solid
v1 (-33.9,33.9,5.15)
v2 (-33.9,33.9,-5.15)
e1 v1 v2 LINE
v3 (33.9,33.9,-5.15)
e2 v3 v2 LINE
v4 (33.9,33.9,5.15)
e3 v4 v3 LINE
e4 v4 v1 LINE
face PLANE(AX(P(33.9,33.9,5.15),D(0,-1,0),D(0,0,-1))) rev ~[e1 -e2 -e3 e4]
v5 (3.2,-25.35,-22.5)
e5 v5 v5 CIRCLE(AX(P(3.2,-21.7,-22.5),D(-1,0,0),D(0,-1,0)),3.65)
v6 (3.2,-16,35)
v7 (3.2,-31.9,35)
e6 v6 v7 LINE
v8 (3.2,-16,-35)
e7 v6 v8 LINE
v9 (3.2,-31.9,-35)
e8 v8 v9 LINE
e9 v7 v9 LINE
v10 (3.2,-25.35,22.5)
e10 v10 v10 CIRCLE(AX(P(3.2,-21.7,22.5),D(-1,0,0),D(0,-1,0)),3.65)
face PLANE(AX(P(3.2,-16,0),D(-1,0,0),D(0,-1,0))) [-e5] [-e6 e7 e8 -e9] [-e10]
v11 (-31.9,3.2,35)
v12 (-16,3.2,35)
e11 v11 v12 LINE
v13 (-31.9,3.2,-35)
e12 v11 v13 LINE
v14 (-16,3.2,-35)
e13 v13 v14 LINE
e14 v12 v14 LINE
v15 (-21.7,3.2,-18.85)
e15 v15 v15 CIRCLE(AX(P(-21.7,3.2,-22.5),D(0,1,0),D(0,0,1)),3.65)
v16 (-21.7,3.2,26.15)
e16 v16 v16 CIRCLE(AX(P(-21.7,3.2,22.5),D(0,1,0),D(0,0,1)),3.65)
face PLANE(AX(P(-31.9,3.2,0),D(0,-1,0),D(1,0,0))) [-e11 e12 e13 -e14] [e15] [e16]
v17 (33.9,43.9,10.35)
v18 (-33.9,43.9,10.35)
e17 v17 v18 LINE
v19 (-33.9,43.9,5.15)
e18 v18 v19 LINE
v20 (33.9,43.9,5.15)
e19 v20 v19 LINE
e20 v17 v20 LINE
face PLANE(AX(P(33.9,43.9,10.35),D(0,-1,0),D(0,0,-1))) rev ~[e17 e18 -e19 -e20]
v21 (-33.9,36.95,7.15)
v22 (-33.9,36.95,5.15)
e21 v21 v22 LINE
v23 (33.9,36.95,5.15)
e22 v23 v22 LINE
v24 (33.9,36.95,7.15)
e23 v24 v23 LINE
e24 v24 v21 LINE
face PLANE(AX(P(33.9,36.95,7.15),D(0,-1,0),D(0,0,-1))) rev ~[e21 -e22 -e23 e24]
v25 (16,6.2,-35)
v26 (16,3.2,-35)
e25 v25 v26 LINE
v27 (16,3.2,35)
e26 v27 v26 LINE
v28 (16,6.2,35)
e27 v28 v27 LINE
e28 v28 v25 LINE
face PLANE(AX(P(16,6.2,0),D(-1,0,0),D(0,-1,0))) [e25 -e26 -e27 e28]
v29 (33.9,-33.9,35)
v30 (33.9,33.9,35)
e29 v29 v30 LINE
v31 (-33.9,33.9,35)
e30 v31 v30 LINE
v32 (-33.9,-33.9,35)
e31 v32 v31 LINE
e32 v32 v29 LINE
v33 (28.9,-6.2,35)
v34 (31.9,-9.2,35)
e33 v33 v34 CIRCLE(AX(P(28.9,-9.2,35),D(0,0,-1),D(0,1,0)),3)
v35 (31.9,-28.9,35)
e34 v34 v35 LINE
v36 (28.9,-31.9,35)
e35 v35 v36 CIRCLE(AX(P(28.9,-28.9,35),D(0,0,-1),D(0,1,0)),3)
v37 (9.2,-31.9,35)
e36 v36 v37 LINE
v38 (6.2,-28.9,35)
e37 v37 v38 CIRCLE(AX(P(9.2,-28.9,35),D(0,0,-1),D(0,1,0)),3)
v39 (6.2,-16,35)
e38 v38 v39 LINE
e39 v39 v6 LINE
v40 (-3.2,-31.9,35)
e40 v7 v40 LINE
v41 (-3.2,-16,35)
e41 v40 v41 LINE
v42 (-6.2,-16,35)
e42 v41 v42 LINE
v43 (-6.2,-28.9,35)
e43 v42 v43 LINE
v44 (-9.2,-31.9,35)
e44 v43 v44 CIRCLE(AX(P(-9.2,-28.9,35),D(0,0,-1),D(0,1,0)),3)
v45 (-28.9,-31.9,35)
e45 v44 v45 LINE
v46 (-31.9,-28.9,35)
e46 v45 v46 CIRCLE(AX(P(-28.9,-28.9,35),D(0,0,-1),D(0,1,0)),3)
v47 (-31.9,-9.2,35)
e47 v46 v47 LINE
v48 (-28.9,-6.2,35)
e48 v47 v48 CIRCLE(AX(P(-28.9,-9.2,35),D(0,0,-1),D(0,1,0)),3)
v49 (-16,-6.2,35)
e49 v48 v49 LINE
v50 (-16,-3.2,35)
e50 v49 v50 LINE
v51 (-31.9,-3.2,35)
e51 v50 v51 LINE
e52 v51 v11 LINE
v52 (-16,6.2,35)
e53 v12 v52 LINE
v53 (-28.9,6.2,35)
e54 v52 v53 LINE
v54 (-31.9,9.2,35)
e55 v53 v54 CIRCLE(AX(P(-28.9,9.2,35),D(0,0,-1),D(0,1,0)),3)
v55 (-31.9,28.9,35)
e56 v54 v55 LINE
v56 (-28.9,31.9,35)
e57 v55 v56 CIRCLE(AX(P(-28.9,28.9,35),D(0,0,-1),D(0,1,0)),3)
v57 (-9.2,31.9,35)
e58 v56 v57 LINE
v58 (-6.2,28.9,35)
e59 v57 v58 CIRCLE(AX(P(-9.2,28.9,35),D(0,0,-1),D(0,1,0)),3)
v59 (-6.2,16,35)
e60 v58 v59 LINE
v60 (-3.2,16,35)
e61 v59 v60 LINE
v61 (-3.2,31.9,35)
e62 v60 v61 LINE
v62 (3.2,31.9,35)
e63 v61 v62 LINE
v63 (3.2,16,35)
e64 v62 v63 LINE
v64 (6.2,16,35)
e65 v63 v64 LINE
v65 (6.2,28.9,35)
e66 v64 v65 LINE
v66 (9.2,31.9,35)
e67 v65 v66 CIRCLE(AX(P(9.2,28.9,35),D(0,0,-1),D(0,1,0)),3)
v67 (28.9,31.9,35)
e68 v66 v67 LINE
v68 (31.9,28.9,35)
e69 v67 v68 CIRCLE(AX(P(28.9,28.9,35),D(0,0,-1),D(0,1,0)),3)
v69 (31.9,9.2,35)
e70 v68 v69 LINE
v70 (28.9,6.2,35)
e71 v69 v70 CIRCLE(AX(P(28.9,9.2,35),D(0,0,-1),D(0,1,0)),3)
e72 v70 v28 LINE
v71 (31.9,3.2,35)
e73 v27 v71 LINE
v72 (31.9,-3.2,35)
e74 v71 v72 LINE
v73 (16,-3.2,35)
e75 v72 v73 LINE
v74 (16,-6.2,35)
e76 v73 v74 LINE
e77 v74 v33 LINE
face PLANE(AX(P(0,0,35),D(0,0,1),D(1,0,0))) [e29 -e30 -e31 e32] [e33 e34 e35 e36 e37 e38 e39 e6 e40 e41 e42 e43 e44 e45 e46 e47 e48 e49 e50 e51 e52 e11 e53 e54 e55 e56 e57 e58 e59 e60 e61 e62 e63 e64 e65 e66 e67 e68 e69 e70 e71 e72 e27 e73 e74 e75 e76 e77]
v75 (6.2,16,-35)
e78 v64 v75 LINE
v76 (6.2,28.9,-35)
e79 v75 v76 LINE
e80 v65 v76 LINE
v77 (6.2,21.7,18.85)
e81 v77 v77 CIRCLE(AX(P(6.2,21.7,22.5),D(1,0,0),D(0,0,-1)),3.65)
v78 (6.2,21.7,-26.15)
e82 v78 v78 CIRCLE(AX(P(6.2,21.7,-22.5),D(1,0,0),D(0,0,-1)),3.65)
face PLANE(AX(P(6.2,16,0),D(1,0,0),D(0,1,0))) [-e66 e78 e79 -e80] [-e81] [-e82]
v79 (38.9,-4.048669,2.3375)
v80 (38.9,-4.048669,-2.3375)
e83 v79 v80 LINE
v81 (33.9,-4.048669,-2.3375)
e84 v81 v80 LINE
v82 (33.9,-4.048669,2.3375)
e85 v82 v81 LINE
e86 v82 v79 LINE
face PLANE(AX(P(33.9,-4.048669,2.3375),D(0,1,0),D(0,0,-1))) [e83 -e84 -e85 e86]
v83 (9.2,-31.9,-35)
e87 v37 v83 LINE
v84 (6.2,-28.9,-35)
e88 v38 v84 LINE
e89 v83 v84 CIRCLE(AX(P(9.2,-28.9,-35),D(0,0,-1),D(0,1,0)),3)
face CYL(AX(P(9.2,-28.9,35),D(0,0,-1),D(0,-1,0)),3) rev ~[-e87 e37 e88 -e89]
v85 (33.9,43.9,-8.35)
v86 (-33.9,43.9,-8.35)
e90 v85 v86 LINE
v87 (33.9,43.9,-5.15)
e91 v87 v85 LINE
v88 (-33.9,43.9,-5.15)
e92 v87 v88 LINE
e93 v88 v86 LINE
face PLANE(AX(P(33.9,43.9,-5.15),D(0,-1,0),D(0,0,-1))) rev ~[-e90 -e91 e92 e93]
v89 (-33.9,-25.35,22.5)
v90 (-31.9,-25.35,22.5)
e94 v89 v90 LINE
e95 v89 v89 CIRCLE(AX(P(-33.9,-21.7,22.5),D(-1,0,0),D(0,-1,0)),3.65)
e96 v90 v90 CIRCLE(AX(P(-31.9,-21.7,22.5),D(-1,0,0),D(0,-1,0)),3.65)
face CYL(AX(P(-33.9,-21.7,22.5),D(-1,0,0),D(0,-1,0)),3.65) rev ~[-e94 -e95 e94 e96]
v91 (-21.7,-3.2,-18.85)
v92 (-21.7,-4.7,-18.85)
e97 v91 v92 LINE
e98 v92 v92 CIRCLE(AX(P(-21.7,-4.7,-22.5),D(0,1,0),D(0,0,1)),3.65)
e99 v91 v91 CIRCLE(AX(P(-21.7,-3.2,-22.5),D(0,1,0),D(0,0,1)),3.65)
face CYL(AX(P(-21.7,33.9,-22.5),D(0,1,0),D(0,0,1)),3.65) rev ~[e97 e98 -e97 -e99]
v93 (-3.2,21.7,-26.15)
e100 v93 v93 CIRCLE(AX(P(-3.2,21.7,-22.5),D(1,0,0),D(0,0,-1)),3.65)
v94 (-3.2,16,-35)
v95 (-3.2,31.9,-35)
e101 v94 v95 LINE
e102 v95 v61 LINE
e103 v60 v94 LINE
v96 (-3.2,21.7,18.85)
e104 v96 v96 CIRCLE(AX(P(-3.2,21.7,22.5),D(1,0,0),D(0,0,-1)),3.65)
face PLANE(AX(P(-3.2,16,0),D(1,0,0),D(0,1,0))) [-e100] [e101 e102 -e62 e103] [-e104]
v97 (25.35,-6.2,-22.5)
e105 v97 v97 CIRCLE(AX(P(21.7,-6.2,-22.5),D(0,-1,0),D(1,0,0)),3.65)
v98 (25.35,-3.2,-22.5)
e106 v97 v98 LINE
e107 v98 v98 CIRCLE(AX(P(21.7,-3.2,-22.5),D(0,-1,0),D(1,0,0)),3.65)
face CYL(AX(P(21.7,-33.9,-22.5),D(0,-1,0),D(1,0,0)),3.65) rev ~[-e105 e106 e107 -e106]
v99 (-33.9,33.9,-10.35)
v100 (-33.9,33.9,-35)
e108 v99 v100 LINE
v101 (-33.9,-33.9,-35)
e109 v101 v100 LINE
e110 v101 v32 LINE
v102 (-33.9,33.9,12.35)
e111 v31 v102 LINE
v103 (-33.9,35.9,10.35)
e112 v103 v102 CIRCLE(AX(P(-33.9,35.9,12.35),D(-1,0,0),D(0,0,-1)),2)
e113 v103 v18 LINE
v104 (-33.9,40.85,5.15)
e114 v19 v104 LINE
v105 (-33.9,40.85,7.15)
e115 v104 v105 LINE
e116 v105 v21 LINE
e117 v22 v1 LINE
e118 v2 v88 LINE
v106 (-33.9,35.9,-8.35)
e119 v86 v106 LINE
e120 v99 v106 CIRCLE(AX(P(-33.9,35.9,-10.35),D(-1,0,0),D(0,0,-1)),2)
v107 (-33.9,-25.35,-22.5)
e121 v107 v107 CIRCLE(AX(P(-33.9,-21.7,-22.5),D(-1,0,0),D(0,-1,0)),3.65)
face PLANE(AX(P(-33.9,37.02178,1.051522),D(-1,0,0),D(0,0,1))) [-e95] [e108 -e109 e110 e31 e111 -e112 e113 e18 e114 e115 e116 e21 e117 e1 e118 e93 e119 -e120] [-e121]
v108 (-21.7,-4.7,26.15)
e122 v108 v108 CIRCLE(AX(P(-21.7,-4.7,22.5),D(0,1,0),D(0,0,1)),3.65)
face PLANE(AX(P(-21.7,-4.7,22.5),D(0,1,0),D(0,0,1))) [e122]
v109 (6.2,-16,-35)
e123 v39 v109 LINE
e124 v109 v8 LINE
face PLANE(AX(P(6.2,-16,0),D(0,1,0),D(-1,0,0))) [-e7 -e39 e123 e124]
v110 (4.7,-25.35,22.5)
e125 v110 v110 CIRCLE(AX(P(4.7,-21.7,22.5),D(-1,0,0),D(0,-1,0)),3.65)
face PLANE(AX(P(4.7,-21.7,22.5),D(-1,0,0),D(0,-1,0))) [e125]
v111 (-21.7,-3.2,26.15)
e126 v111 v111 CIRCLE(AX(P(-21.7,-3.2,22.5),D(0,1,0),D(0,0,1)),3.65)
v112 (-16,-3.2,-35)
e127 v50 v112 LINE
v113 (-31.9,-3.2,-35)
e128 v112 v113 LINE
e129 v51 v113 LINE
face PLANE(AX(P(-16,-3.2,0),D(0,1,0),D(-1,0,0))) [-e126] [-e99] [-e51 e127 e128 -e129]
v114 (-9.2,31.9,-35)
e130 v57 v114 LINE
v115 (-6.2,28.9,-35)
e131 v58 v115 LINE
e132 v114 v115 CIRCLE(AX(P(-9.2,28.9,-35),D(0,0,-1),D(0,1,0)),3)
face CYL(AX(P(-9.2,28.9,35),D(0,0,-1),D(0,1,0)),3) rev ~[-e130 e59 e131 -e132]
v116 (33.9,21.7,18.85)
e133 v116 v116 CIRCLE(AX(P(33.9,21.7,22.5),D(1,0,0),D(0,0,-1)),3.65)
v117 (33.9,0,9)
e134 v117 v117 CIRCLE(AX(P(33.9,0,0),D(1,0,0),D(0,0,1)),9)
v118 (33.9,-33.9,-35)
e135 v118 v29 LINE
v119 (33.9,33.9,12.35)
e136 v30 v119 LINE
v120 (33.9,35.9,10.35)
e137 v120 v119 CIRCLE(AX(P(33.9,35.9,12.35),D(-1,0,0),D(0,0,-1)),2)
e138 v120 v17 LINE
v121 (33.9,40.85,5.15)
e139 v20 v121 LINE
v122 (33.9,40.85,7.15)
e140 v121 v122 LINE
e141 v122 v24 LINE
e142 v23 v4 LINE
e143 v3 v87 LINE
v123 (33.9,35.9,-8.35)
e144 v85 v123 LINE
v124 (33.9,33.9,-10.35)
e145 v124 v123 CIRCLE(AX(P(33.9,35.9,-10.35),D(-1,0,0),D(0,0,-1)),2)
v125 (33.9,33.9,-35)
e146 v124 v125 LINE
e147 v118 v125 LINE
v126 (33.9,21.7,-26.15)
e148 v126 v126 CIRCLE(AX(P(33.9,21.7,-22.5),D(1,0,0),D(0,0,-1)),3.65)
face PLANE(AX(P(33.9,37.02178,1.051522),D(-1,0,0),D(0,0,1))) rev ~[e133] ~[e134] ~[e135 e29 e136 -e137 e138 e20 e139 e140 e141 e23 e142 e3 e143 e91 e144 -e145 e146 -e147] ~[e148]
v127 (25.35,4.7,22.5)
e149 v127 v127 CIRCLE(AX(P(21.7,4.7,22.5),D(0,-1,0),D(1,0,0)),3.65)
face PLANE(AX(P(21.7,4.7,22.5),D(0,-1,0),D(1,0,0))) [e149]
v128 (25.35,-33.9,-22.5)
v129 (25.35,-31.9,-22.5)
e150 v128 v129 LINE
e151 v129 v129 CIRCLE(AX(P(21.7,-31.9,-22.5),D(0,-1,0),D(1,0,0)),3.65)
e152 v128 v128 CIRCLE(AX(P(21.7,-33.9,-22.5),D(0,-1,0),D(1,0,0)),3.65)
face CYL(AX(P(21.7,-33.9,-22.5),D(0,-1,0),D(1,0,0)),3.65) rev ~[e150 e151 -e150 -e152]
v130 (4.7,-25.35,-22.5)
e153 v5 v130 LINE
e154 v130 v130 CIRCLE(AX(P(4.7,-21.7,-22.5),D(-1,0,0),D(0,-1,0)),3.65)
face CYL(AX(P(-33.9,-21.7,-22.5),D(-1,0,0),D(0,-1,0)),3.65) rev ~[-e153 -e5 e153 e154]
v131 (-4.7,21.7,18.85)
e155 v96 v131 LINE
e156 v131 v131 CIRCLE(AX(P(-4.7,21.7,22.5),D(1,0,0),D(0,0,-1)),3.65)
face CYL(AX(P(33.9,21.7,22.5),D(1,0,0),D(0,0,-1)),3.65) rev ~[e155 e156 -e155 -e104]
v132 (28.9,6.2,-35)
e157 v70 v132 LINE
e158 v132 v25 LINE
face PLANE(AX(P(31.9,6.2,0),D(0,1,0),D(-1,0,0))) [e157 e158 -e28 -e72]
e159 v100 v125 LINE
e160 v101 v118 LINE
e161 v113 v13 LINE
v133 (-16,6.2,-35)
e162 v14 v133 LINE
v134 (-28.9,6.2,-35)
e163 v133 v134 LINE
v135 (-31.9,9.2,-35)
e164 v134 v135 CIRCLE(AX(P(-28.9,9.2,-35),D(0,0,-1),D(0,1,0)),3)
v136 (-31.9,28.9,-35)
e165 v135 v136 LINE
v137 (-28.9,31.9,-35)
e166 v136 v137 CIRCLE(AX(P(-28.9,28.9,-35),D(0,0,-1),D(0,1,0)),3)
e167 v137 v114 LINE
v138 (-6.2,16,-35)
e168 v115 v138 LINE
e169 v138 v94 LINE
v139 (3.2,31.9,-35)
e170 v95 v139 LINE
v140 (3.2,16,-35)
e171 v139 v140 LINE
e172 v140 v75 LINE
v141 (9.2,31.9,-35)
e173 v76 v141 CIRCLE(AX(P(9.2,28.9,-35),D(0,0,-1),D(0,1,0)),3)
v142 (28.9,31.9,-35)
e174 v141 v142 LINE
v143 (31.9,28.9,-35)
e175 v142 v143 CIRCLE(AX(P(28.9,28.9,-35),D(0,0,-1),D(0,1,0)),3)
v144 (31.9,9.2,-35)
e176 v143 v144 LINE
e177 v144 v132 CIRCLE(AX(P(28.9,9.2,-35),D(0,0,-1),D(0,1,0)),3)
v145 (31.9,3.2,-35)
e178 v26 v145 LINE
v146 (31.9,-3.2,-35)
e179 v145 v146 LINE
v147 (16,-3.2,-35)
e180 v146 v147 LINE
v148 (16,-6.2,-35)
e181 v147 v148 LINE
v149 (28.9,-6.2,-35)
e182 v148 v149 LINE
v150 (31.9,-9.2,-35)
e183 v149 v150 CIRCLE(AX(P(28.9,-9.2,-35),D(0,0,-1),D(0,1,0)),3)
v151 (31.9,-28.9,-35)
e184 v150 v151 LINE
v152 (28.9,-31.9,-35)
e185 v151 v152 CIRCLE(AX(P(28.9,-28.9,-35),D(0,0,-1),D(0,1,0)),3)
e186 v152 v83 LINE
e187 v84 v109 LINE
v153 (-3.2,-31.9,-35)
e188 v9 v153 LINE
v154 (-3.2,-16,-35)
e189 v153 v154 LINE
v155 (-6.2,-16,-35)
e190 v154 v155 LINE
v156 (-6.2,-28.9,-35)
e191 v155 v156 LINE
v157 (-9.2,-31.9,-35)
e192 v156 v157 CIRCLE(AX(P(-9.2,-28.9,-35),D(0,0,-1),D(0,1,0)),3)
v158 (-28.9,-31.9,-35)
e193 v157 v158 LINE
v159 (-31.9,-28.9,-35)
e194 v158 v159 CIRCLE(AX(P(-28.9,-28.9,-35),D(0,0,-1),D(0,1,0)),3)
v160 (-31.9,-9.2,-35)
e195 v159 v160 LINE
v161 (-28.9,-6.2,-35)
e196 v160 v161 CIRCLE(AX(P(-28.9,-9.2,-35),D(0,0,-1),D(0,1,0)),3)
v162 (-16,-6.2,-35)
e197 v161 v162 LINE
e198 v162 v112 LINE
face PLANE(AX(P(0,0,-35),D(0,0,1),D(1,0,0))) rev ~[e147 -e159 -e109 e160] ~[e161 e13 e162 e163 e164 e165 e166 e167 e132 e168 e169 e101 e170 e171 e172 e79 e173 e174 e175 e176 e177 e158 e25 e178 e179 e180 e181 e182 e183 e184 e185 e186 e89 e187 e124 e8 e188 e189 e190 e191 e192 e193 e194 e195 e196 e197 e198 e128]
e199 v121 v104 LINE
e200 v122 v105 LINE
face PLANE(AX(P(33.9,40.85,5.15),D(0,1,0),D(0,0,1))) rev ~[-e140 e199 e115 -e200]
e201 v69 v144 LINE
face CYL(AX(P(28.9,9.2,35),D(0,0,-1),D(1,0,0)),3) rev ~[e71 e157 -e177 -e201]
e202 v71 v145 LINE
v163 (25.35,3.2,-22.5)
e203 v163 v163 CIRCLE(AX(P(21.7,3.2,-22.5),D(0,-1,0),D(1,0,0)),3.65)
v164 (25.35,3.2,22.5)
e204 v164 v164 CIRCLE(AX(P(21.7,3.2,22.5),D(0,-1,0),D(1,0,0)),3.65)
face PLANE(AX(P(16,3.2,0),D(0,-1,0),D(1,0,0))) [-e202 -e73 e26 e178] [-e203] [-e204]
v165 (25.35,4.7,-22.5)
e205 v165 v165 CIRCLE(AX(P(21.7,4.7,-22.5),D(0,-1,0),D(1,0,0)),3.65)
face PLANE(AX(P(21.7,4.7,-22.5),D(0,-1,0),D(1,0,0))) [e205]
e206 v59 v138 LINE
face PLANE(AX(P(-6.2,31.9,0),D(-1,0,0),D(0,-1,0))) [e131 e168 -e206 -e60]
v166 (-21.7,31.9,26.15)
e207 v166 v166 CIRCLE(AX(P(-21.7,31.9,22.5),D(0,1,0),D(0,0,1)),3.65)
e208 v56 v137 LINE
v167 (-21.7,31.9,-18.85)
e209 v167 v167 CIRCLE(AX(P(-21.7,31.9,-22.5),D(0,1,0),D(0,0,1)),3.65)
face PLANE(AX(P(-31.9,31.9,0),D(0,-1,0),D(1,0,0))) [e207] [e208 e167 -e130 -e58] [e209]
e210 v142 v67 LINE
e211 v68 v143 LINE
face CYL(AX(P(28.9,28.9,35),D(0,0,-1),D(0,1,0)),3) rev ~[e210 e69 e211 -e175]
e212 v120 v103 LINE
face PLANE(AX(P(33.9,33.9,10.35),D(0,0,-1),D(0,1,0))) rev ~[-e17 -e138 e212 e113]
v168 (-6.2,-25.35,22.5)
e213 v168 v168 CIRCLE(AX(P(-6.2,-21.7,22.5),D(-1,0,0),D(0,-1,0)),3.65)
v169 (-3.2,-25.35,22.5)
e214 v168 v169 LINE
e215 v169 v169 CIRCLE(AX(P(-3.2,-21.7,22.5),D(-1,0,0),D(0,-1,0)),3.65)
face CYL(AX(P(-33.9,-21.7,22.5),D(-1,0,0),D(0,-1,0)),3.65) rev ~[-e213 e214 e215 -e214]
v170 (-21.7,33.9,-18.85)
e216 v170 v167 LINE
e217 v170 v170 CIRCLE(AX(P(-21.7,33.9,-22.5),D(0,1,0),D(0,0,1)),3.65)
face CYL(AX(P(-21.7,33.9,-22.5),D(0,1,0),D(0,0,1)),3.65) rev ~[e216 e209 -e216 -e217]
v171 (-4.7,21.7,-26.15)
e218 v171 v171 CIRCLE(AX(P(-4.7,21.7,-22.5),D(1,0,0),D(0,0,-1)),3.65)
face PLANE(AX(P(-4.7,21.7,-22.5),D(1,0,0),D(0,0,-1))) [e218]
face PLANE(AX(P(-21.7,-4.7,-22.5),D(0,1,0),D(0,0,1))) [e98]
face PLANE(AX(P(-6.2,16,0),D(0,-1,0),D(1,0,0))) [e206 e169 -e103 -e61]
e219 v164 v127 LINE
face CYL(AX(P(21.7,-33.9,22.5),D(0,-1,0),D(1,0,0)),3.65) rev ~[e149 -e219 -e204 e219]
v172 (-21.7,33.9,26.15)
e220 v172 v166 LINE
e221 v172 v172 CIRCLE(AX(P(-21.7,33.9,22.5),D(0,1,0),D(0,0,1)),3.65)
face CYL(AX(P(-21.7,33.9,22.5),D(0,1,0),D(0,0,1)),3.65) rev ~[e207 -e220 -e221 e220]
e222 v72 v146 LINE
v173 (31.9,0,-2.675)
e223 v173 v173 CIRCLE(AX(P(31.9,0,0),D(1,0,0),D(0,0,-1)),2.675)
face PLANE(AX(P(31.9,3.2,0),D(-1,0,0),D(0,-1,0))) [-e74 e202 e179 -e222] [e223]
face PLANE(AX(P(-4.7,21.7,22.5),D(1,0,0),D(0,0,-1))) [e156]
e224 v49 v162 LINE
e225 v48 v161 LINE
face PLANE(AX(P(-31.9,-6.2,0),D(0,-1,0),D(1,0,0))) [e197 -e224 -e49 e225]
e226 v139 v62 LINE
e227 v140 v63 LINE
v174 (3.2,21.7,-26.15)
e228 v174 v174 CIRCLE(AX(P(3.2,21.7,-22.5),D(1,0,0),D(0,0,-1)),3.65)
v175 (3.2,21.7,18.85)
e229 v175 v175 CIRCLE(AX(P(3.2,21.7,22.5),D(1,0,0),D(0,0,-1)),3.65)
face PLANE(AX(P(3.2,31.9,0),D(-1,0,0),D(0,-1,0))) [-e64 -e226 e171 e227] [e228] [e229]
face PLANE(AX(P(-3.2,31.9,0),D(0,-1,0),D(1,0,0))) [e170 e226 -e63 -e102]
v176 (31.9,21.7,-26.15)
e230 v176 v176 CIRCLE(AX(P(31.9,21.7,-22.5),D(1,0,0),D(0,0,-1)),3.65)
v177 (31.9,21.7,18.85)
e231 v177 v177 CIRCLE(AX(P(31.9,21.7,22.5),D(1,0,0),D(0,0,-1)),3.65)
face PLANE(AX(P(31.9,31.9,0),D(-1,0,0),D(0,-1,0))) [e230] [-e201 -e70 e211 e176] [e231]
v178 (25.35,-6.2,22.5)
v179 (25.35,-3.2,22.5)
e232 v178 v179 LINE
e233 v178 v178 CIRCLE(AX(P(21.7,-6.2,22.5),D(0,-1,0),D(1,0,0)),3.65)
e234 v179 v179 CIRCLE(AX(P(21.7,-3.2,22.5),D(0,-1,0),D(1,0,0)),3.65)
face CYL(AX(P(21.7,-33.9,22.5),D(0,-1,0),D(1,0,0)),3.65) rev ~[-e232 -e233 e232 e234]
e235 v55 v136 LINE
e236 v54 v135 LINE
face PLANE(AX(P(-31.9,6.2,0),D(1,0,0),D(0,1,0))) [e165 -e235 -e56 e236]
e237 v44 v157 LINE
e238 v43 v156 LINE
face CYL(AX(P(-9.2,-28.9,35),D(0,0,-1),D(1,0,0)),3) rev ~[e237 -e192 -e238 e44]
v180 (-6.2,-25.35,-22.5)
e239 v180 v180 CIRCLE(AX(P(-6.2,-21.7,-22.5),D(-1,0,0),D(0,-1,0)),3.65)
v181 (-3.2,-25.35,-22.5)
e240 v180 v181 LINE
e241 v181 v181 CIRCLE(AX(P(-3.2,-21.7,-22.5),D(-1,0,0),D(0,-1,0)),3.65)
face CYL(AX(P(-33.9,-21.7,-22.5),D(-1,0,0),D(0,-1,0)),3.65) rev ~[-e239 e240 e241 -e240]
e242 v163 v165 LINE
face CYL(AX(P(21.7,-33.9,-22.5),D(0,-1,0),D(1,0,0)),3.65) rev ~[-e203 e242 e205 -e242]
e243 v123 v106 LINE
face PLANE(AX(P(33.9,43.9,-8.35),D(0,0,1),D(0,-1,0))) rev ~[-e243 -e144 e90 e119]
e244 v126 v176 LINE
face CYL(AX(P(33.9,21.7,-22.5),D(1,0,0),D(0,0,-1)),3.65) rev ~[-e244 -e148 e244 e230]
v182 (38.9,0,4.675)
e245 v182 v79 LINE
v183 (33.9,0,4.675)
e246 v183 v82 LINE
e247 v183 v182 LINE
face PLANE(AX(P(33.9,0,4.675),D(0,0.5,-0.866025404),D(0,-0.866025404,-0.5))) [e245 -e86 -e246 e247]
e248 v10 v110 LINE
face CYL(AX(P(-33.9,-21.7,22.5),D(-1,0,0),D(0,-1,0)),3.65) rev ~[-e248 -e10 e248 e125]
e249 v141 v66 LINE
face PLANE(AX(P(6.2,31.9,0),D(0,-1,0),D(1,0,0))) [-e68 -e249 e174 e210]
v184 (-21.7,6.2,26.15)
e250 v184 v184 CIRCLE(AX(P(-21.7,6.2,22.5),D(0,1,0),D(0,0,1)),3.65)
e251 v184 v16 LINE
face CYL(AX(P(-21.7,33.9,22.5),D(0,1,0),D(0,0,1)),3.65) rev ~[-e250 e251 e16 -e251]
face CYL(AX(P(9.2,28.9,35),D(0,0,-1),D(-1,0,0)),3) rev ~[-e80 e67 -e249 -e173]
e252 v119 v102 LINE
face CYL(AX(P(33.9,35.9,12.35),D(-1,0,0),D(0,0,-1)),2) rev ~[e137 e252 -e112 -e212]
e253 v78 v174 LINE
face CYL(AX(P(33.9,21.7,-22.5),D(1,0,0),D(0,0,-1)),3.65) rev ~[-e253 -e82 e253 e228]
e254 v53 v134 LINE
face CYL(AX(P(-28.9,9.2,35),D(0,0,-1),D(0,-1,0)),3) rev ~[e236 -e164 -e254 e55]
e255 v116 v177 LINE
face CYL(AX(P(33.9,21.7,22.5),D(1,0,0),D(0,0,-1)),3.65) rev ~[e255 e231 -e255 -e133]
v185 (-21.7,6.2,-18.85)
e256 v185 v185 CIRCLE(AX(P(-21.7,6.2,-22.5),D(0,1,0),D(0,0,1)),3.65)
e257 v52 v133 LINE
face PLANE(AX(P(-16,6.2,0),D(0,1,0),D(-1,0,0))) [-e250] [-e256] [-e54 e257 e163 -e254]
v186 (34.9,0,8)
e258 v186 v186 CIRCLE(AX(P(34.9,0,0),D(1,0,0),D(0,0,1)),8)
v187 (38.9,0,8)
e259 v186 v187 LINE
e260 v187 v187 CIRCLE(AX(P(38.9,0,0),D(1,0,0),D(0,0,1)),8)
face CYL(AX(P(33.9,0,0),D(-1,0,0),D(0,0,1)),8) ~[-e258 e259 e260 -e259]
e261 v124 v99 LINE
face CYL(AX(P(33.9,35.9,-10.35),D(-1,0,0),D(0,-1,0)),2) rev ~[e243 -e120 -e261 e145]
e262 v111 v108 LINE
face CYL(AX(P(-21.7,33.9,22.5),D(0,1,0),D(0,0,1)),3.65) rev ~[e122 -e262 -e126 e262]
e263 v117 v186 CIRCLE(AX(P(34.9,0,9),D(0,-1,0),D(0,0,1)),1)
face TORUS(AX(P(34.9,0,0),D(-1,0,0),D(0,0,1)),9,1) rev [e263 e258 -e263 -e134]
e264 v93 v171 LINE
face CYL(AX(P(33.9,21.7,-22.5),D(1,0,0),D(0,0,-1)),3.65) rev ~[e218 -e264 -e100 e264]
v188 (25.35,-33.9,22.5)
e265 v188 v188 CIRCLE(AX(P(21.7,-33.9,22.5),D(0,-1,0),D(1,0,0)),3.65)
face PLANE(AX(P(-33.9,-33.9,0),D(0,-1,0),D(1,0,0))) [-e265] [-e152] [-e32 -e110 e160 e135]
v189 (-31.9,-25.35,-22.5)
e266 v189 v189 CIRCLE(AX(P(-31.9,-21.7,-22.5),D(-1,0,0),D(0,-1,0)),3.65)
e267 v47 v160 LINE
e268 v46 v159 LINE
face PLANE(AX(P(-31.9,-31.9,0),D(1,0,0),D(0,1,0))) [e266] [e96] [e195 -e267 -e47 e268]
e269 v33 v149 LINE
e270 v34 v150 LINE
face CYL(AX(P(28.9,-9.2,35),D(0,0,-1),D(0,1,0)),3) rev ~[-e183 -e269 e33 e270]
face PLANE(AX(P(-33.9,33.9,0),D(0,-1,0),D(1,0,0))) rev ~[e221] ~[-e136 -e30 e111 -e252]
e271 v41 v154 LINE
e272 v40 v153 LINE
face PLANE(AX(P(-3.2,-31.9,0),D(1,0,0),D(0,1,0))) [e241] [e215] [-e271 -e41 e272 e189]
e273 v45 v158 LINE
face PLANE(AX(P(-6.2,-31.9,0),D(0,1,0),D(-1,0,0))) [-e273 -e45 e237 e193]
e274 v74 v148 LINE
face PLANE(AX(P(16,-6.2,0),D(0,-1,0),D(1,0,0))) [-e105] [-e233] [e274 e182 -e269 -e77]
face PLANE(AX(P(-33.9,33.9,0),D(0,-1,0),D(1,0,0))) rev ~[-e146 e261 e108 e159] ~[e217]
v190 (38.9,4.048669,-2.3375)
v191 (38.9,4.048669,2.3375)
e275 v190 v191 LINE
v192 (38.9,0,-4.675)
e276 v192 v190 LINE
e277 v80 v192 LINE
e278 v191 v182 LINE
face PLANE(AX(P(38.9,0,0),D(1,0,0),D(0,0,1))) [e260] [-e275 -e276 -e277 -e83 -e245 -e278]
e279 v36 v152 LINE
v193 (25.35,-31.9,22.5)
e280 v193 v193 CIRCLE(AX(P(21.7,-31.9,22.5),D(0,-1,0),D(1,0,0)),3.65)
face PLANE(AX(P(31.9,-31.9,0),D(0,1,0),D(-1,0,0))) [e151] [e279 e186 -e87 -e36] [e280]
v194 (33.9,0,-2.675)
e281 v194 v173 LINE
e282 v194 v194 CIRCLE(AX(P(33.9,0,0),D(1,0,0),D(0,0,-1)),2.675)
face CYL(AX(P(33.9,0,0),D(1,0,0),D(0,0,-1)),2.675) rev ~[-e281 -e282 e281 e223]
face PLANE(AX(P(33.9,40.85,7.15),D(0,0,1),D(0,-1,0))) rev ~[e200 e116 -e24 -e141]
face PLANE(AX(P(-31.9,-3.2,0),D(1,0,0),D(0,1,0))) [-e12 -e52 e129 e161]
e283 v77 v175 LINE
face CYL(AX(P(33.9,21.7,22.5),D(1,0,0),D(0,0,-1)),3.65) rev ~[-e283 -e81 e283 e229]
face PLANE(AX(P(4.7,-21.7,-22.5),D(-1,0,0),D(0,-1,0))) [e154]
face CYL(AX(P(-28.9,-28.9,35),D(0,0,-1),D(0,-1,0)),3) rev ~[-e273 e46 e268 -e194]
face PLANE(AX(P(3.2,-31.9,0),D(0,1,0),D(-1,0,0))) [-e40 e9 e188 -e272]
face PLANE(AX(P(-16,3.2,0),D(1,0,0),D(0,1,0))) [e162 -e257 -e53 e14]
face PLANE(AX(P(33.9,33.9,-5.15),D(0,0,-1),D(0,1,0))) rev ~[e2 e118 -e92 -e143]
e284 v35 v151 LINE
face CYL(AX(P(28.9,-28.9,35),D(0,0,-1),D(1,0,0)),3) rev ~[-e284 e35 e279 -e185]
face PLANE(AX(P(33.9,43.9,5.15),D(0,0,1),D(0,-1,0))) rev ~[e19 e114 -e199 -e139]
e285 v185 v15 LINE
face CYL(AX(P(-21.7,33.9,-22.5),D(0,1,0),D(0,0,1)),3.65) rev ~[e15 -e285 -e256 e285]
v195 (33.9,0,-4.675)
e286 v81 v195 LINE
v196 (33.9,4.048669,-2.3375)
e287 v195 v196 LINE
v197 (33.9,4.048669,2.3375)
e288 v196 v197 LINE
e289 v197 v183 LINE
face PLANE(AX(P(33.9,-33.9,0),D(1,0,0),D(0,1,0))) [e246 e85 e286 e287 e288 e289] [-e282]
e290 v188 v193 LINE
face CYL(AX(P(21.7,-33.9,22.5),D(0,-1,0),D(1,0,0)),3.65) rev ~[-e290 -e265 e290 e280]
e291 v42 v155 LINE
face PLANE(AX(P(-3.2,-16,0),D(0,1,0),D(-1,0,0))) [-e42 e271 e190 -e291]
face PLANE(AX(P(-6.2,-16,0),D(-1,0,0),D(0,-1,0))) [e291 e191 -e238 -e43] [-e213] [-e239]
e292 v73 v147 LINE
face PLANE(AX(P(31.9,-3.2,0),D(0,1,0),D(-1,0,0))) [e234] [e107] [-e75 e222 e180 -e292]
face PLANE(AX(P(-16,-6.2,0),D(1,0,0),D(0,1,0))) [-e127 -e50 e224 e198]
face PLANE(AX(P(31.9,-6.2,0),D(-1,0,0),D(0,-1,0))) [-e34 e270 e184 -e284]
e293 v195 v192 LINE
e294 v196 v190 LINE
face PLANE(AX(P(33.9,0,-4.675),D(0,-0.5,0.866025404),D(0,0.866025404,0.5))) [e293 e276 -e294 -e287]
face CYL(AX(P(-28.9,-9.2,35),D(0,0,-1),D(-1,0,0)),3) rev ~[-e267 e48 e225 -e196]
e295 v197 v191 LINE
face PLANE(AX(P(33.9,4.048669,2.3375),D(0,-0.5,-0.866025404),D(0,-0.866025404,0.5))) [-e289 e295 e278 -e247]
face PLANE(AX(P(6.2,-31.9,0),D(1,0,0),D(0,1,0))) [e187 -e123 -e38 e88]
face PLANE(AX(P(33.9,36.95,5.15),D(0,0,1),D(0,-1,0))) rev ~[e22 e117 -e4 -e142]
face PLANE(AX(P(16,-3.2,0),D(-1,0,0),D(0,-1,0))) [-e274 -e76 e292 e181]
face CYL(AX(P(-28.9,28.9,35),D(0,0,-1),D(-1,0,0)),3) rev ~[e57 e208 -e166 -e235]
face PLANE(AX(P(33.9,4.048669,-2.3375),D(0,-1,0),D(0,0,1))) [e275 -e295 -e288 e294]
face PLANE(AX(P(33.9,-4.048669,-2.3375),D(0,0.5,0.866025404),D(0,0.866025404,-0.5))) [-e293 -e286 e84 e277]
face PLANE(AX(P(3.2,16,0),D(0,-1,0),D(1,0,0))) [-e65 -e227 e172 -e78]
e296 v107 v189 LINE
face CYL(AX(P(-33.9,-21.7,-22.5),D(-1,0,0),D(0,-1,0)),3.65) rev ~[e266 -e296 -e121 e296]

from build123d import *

# Parameters (mm, degrees)
SKETCH2_W           = 67.8
SKETCH2_H           = 67.8
BOSS_EXTRUDE1_DEPTH = 35
FILLET1_R           = 3
SKETCH3_R           = 3.65
CUT_EXTRUDE1_DEPTH  = 38.6
SKETCH4_R           = 3.65
CUT_EXTRUDE2_DEPTH  = 38.6
SKETCH5_R           = 3.65
CUT_EXTRUDE3_DEPTH  = 38.6
SKETCH6_R           = 3.65
CUT_EXTRUDE4_DEPTH  = 38.6
SKETCH7_R           = 8
BOSS_EXTRUDE2_DEPTH = 5
SKETCH8_R           = 2.675
CUT_EXTRUDE5_DEPTH  = 17.9
FILLET2_R           = 1
BOSS_EXTRUDE3_DEPTH = 67.8
FILLET3_R           = 2


with BuildPart() as part:
    # Sketch2 → Boss-Extrude1 (new, symmetric)
    with BuildSketch(Plane.XY):
        Rectangle(SKETCH2_W, SKETCH2_H)
        Polygon((3.2, 16), (6.2, 16), (6.2, 31.9), (31.9, 31.9), (31.9, 6.2), (16, 6.2), (16, 3.2), (31.9, 3.2), (31.9, -3.2), (16, -3.2), (16, -6.2), (31.9, -6.2), (31.9, -31.9), (6.2, -31.9), (6.2, -16), (3.2, -16), (3.2, -31.9), (-3.2, -31.9), (-3.2, -16), (-6.2, -16), (-6.2, -31.9), (-31.9, -31.9), (-31.9, -6.2), (-16, -6.2), (-16, -3.2), (-31.9, -3.2), (-31.9, 3.2), (-16, 3.2), (-16, 6.2), (-31.9, 6.2), (-31.9, 31.9), (-6.2, 31.9), (-6.2, 16), (-3.2, 16), (-3.2, 31.9), (3.2, 31.9), align=None, mode=Mode.SUBTRACT)
    extrude(amount=BOSS_EXTRUDE1_DEPTH, both=True)

    # Fillet1
    fillet1_edges = [part.edges().sort_by_distance(p)[0] for p in [
        (-31.9, -6.2, 0),
        (-31.9, -31.9, 0),
        (-6.2, -31.9, 0),
        (6.2, -31.9, 0),
        (31.9, -31.9, 0),
        (31.9, -6.2, 0),
        (31.9, 6.2, 0),
        (31.9, 31.9, 0),
        (6.2, 31.9, 0),
        (-6.2, 31.9, 0),
        (-31.9, 31.9, 0),
        (-31.9, 6.2, 0),
    ]]
    fillet(fillet1_edges, radius=FILLET1_R)

    # Sketch3 → Cut-Extrude1 (cut)
    with BuildSketch(Plane(origin=(0, 33.9, 0), x_dir=(1, 0, 0), z_dir=(0, 1, 0))):
        with Locations(Location((-21.7, -22.5, 0), (0, 0, 270))):
            Circle(SKETCH3_R)
        with Locations(Location((-21.7, 22.5, 0), (0, 0, 270))):
            Circle(SKETCH3_R)
    extrude(amount=-CUT_EXTRUDE1_DEPTH, mode=Mode.SUBTRACT)

    # Sketch4 → Cut-Extrude2 (cut)
    with BuildSketch(Plane(origin=(33.9, 0, 0), x_dir=(0, 0, -1), z_dir=(1, 0, 0))):
        with Locations((22.5, 21.7)):
            Circle(SKETCH4_R)
        with Locations((-22.5, 21.7)):
            Circle(SKETCH4_R)
    extrude(amount=-CUT_EXTRUDE2_DEPTH, mode=Mode.SUBTRACT)

    # Sketch5 → Cut-Extrude3 (cut)
    with BuildSketch(Plane.XZ.offset(33.9)):
        with Locations((21.7, -22.5)):
            Circle(SKETCH5_R)
        with Locations((21.7, 22.5)):
            Circle(SKETCH5_R)
    extrude(amount=-CUT_EXTRUDE3_DEPTH, mode=Mode.SUBTRACT)

    # Sketch6 → Cut-Extrude4 (cut)
    with BuildSketch(Plane.ZY.offset(33.9)):
        with Locations(Location((-22.5, -21.7, 0), (0, 0, 270))):
            Circle(SKETCH6_R)
        with Locations(Location((22.5, -21.7, 0), (0, 0, 270))):
            Circle(SKETCH6_R)
    extrude(amount=-CUT_EXTRUDE4_DEPTH, mode=Mode.SUBTRACT)

    # Sketch7 → Boss-Extrude2 (add)
    with BuildSketch(Plane(origin=(33.9, 0, 0), x_dir=(0, 0, -1), z_dir=(1, 0, 0))):
        with Locations(Location((0, 0, 0), (0, 0, 180))):
            Circle(SKETCH7_R)
        Polygon((2.3375, 4.048668763), (-2.3375, 4.048668763), (-4.675, 0), (-2.3375, -4.048668763), (2.3375, -4.048668763), (4.675, 0), align=None, mode=Mode.SUBTRACT)
    extrude(amount=BOSS_EXTRUDE2_DEPTH)

    # Sketch8 → Cut-Extrude5 (cut)
    with BuildSketch(Plane(origin=(33.9, 0, 0), x_dir=(0, 0, -1), z_dir=(1, 0, 0))):
        Circle(SKETCH8_R)
    extrude(amount=-CUT_EXTRUDE5_DEPTH, mode=Mode.SUBTRACT)

    # Fillet2
    fillet2_edges = [part.edges().sort_by_distance(p)[0] for p in [
        (33.9, 0, -8),
    ]]
    fillet(fillet2_edges, radius=FILLET2_R)

    # Sketch9 → Boss-Extrude3 (add)
    with BuildSketch(Plane(origin=(33.9, 0, 0), x_dir=(0, 0, -1), z_dir=(1, 0, 0))):
        Polygon((5.15, 33.9), (5.15, 43.9), (8.35, 43.9), (8.35, 31.9), (-8.35, 31.9), (-8.35, 33.9), (-10.35, 33.9), (-10.35, 43.9), (-5.15, 43.9), (-5.15, 40.85), (-7.15, 40.85), (-7.15, 36.95), (-5.15, 36.95), (-5.15, 33.9), align=None)
    extrude(amount=-BOSS_EXTRUDE3_DEPTH)

    # Fillet3
    fillet3_edges = [part.edges().sort_by_distance(p)[0] for p in [
        (0, 33.9, -8.35),
        (0, 33.9, 10.35),
    ]]
    fillet(fillet3_edges, radius=FILLET3_R)


solid = part.part
